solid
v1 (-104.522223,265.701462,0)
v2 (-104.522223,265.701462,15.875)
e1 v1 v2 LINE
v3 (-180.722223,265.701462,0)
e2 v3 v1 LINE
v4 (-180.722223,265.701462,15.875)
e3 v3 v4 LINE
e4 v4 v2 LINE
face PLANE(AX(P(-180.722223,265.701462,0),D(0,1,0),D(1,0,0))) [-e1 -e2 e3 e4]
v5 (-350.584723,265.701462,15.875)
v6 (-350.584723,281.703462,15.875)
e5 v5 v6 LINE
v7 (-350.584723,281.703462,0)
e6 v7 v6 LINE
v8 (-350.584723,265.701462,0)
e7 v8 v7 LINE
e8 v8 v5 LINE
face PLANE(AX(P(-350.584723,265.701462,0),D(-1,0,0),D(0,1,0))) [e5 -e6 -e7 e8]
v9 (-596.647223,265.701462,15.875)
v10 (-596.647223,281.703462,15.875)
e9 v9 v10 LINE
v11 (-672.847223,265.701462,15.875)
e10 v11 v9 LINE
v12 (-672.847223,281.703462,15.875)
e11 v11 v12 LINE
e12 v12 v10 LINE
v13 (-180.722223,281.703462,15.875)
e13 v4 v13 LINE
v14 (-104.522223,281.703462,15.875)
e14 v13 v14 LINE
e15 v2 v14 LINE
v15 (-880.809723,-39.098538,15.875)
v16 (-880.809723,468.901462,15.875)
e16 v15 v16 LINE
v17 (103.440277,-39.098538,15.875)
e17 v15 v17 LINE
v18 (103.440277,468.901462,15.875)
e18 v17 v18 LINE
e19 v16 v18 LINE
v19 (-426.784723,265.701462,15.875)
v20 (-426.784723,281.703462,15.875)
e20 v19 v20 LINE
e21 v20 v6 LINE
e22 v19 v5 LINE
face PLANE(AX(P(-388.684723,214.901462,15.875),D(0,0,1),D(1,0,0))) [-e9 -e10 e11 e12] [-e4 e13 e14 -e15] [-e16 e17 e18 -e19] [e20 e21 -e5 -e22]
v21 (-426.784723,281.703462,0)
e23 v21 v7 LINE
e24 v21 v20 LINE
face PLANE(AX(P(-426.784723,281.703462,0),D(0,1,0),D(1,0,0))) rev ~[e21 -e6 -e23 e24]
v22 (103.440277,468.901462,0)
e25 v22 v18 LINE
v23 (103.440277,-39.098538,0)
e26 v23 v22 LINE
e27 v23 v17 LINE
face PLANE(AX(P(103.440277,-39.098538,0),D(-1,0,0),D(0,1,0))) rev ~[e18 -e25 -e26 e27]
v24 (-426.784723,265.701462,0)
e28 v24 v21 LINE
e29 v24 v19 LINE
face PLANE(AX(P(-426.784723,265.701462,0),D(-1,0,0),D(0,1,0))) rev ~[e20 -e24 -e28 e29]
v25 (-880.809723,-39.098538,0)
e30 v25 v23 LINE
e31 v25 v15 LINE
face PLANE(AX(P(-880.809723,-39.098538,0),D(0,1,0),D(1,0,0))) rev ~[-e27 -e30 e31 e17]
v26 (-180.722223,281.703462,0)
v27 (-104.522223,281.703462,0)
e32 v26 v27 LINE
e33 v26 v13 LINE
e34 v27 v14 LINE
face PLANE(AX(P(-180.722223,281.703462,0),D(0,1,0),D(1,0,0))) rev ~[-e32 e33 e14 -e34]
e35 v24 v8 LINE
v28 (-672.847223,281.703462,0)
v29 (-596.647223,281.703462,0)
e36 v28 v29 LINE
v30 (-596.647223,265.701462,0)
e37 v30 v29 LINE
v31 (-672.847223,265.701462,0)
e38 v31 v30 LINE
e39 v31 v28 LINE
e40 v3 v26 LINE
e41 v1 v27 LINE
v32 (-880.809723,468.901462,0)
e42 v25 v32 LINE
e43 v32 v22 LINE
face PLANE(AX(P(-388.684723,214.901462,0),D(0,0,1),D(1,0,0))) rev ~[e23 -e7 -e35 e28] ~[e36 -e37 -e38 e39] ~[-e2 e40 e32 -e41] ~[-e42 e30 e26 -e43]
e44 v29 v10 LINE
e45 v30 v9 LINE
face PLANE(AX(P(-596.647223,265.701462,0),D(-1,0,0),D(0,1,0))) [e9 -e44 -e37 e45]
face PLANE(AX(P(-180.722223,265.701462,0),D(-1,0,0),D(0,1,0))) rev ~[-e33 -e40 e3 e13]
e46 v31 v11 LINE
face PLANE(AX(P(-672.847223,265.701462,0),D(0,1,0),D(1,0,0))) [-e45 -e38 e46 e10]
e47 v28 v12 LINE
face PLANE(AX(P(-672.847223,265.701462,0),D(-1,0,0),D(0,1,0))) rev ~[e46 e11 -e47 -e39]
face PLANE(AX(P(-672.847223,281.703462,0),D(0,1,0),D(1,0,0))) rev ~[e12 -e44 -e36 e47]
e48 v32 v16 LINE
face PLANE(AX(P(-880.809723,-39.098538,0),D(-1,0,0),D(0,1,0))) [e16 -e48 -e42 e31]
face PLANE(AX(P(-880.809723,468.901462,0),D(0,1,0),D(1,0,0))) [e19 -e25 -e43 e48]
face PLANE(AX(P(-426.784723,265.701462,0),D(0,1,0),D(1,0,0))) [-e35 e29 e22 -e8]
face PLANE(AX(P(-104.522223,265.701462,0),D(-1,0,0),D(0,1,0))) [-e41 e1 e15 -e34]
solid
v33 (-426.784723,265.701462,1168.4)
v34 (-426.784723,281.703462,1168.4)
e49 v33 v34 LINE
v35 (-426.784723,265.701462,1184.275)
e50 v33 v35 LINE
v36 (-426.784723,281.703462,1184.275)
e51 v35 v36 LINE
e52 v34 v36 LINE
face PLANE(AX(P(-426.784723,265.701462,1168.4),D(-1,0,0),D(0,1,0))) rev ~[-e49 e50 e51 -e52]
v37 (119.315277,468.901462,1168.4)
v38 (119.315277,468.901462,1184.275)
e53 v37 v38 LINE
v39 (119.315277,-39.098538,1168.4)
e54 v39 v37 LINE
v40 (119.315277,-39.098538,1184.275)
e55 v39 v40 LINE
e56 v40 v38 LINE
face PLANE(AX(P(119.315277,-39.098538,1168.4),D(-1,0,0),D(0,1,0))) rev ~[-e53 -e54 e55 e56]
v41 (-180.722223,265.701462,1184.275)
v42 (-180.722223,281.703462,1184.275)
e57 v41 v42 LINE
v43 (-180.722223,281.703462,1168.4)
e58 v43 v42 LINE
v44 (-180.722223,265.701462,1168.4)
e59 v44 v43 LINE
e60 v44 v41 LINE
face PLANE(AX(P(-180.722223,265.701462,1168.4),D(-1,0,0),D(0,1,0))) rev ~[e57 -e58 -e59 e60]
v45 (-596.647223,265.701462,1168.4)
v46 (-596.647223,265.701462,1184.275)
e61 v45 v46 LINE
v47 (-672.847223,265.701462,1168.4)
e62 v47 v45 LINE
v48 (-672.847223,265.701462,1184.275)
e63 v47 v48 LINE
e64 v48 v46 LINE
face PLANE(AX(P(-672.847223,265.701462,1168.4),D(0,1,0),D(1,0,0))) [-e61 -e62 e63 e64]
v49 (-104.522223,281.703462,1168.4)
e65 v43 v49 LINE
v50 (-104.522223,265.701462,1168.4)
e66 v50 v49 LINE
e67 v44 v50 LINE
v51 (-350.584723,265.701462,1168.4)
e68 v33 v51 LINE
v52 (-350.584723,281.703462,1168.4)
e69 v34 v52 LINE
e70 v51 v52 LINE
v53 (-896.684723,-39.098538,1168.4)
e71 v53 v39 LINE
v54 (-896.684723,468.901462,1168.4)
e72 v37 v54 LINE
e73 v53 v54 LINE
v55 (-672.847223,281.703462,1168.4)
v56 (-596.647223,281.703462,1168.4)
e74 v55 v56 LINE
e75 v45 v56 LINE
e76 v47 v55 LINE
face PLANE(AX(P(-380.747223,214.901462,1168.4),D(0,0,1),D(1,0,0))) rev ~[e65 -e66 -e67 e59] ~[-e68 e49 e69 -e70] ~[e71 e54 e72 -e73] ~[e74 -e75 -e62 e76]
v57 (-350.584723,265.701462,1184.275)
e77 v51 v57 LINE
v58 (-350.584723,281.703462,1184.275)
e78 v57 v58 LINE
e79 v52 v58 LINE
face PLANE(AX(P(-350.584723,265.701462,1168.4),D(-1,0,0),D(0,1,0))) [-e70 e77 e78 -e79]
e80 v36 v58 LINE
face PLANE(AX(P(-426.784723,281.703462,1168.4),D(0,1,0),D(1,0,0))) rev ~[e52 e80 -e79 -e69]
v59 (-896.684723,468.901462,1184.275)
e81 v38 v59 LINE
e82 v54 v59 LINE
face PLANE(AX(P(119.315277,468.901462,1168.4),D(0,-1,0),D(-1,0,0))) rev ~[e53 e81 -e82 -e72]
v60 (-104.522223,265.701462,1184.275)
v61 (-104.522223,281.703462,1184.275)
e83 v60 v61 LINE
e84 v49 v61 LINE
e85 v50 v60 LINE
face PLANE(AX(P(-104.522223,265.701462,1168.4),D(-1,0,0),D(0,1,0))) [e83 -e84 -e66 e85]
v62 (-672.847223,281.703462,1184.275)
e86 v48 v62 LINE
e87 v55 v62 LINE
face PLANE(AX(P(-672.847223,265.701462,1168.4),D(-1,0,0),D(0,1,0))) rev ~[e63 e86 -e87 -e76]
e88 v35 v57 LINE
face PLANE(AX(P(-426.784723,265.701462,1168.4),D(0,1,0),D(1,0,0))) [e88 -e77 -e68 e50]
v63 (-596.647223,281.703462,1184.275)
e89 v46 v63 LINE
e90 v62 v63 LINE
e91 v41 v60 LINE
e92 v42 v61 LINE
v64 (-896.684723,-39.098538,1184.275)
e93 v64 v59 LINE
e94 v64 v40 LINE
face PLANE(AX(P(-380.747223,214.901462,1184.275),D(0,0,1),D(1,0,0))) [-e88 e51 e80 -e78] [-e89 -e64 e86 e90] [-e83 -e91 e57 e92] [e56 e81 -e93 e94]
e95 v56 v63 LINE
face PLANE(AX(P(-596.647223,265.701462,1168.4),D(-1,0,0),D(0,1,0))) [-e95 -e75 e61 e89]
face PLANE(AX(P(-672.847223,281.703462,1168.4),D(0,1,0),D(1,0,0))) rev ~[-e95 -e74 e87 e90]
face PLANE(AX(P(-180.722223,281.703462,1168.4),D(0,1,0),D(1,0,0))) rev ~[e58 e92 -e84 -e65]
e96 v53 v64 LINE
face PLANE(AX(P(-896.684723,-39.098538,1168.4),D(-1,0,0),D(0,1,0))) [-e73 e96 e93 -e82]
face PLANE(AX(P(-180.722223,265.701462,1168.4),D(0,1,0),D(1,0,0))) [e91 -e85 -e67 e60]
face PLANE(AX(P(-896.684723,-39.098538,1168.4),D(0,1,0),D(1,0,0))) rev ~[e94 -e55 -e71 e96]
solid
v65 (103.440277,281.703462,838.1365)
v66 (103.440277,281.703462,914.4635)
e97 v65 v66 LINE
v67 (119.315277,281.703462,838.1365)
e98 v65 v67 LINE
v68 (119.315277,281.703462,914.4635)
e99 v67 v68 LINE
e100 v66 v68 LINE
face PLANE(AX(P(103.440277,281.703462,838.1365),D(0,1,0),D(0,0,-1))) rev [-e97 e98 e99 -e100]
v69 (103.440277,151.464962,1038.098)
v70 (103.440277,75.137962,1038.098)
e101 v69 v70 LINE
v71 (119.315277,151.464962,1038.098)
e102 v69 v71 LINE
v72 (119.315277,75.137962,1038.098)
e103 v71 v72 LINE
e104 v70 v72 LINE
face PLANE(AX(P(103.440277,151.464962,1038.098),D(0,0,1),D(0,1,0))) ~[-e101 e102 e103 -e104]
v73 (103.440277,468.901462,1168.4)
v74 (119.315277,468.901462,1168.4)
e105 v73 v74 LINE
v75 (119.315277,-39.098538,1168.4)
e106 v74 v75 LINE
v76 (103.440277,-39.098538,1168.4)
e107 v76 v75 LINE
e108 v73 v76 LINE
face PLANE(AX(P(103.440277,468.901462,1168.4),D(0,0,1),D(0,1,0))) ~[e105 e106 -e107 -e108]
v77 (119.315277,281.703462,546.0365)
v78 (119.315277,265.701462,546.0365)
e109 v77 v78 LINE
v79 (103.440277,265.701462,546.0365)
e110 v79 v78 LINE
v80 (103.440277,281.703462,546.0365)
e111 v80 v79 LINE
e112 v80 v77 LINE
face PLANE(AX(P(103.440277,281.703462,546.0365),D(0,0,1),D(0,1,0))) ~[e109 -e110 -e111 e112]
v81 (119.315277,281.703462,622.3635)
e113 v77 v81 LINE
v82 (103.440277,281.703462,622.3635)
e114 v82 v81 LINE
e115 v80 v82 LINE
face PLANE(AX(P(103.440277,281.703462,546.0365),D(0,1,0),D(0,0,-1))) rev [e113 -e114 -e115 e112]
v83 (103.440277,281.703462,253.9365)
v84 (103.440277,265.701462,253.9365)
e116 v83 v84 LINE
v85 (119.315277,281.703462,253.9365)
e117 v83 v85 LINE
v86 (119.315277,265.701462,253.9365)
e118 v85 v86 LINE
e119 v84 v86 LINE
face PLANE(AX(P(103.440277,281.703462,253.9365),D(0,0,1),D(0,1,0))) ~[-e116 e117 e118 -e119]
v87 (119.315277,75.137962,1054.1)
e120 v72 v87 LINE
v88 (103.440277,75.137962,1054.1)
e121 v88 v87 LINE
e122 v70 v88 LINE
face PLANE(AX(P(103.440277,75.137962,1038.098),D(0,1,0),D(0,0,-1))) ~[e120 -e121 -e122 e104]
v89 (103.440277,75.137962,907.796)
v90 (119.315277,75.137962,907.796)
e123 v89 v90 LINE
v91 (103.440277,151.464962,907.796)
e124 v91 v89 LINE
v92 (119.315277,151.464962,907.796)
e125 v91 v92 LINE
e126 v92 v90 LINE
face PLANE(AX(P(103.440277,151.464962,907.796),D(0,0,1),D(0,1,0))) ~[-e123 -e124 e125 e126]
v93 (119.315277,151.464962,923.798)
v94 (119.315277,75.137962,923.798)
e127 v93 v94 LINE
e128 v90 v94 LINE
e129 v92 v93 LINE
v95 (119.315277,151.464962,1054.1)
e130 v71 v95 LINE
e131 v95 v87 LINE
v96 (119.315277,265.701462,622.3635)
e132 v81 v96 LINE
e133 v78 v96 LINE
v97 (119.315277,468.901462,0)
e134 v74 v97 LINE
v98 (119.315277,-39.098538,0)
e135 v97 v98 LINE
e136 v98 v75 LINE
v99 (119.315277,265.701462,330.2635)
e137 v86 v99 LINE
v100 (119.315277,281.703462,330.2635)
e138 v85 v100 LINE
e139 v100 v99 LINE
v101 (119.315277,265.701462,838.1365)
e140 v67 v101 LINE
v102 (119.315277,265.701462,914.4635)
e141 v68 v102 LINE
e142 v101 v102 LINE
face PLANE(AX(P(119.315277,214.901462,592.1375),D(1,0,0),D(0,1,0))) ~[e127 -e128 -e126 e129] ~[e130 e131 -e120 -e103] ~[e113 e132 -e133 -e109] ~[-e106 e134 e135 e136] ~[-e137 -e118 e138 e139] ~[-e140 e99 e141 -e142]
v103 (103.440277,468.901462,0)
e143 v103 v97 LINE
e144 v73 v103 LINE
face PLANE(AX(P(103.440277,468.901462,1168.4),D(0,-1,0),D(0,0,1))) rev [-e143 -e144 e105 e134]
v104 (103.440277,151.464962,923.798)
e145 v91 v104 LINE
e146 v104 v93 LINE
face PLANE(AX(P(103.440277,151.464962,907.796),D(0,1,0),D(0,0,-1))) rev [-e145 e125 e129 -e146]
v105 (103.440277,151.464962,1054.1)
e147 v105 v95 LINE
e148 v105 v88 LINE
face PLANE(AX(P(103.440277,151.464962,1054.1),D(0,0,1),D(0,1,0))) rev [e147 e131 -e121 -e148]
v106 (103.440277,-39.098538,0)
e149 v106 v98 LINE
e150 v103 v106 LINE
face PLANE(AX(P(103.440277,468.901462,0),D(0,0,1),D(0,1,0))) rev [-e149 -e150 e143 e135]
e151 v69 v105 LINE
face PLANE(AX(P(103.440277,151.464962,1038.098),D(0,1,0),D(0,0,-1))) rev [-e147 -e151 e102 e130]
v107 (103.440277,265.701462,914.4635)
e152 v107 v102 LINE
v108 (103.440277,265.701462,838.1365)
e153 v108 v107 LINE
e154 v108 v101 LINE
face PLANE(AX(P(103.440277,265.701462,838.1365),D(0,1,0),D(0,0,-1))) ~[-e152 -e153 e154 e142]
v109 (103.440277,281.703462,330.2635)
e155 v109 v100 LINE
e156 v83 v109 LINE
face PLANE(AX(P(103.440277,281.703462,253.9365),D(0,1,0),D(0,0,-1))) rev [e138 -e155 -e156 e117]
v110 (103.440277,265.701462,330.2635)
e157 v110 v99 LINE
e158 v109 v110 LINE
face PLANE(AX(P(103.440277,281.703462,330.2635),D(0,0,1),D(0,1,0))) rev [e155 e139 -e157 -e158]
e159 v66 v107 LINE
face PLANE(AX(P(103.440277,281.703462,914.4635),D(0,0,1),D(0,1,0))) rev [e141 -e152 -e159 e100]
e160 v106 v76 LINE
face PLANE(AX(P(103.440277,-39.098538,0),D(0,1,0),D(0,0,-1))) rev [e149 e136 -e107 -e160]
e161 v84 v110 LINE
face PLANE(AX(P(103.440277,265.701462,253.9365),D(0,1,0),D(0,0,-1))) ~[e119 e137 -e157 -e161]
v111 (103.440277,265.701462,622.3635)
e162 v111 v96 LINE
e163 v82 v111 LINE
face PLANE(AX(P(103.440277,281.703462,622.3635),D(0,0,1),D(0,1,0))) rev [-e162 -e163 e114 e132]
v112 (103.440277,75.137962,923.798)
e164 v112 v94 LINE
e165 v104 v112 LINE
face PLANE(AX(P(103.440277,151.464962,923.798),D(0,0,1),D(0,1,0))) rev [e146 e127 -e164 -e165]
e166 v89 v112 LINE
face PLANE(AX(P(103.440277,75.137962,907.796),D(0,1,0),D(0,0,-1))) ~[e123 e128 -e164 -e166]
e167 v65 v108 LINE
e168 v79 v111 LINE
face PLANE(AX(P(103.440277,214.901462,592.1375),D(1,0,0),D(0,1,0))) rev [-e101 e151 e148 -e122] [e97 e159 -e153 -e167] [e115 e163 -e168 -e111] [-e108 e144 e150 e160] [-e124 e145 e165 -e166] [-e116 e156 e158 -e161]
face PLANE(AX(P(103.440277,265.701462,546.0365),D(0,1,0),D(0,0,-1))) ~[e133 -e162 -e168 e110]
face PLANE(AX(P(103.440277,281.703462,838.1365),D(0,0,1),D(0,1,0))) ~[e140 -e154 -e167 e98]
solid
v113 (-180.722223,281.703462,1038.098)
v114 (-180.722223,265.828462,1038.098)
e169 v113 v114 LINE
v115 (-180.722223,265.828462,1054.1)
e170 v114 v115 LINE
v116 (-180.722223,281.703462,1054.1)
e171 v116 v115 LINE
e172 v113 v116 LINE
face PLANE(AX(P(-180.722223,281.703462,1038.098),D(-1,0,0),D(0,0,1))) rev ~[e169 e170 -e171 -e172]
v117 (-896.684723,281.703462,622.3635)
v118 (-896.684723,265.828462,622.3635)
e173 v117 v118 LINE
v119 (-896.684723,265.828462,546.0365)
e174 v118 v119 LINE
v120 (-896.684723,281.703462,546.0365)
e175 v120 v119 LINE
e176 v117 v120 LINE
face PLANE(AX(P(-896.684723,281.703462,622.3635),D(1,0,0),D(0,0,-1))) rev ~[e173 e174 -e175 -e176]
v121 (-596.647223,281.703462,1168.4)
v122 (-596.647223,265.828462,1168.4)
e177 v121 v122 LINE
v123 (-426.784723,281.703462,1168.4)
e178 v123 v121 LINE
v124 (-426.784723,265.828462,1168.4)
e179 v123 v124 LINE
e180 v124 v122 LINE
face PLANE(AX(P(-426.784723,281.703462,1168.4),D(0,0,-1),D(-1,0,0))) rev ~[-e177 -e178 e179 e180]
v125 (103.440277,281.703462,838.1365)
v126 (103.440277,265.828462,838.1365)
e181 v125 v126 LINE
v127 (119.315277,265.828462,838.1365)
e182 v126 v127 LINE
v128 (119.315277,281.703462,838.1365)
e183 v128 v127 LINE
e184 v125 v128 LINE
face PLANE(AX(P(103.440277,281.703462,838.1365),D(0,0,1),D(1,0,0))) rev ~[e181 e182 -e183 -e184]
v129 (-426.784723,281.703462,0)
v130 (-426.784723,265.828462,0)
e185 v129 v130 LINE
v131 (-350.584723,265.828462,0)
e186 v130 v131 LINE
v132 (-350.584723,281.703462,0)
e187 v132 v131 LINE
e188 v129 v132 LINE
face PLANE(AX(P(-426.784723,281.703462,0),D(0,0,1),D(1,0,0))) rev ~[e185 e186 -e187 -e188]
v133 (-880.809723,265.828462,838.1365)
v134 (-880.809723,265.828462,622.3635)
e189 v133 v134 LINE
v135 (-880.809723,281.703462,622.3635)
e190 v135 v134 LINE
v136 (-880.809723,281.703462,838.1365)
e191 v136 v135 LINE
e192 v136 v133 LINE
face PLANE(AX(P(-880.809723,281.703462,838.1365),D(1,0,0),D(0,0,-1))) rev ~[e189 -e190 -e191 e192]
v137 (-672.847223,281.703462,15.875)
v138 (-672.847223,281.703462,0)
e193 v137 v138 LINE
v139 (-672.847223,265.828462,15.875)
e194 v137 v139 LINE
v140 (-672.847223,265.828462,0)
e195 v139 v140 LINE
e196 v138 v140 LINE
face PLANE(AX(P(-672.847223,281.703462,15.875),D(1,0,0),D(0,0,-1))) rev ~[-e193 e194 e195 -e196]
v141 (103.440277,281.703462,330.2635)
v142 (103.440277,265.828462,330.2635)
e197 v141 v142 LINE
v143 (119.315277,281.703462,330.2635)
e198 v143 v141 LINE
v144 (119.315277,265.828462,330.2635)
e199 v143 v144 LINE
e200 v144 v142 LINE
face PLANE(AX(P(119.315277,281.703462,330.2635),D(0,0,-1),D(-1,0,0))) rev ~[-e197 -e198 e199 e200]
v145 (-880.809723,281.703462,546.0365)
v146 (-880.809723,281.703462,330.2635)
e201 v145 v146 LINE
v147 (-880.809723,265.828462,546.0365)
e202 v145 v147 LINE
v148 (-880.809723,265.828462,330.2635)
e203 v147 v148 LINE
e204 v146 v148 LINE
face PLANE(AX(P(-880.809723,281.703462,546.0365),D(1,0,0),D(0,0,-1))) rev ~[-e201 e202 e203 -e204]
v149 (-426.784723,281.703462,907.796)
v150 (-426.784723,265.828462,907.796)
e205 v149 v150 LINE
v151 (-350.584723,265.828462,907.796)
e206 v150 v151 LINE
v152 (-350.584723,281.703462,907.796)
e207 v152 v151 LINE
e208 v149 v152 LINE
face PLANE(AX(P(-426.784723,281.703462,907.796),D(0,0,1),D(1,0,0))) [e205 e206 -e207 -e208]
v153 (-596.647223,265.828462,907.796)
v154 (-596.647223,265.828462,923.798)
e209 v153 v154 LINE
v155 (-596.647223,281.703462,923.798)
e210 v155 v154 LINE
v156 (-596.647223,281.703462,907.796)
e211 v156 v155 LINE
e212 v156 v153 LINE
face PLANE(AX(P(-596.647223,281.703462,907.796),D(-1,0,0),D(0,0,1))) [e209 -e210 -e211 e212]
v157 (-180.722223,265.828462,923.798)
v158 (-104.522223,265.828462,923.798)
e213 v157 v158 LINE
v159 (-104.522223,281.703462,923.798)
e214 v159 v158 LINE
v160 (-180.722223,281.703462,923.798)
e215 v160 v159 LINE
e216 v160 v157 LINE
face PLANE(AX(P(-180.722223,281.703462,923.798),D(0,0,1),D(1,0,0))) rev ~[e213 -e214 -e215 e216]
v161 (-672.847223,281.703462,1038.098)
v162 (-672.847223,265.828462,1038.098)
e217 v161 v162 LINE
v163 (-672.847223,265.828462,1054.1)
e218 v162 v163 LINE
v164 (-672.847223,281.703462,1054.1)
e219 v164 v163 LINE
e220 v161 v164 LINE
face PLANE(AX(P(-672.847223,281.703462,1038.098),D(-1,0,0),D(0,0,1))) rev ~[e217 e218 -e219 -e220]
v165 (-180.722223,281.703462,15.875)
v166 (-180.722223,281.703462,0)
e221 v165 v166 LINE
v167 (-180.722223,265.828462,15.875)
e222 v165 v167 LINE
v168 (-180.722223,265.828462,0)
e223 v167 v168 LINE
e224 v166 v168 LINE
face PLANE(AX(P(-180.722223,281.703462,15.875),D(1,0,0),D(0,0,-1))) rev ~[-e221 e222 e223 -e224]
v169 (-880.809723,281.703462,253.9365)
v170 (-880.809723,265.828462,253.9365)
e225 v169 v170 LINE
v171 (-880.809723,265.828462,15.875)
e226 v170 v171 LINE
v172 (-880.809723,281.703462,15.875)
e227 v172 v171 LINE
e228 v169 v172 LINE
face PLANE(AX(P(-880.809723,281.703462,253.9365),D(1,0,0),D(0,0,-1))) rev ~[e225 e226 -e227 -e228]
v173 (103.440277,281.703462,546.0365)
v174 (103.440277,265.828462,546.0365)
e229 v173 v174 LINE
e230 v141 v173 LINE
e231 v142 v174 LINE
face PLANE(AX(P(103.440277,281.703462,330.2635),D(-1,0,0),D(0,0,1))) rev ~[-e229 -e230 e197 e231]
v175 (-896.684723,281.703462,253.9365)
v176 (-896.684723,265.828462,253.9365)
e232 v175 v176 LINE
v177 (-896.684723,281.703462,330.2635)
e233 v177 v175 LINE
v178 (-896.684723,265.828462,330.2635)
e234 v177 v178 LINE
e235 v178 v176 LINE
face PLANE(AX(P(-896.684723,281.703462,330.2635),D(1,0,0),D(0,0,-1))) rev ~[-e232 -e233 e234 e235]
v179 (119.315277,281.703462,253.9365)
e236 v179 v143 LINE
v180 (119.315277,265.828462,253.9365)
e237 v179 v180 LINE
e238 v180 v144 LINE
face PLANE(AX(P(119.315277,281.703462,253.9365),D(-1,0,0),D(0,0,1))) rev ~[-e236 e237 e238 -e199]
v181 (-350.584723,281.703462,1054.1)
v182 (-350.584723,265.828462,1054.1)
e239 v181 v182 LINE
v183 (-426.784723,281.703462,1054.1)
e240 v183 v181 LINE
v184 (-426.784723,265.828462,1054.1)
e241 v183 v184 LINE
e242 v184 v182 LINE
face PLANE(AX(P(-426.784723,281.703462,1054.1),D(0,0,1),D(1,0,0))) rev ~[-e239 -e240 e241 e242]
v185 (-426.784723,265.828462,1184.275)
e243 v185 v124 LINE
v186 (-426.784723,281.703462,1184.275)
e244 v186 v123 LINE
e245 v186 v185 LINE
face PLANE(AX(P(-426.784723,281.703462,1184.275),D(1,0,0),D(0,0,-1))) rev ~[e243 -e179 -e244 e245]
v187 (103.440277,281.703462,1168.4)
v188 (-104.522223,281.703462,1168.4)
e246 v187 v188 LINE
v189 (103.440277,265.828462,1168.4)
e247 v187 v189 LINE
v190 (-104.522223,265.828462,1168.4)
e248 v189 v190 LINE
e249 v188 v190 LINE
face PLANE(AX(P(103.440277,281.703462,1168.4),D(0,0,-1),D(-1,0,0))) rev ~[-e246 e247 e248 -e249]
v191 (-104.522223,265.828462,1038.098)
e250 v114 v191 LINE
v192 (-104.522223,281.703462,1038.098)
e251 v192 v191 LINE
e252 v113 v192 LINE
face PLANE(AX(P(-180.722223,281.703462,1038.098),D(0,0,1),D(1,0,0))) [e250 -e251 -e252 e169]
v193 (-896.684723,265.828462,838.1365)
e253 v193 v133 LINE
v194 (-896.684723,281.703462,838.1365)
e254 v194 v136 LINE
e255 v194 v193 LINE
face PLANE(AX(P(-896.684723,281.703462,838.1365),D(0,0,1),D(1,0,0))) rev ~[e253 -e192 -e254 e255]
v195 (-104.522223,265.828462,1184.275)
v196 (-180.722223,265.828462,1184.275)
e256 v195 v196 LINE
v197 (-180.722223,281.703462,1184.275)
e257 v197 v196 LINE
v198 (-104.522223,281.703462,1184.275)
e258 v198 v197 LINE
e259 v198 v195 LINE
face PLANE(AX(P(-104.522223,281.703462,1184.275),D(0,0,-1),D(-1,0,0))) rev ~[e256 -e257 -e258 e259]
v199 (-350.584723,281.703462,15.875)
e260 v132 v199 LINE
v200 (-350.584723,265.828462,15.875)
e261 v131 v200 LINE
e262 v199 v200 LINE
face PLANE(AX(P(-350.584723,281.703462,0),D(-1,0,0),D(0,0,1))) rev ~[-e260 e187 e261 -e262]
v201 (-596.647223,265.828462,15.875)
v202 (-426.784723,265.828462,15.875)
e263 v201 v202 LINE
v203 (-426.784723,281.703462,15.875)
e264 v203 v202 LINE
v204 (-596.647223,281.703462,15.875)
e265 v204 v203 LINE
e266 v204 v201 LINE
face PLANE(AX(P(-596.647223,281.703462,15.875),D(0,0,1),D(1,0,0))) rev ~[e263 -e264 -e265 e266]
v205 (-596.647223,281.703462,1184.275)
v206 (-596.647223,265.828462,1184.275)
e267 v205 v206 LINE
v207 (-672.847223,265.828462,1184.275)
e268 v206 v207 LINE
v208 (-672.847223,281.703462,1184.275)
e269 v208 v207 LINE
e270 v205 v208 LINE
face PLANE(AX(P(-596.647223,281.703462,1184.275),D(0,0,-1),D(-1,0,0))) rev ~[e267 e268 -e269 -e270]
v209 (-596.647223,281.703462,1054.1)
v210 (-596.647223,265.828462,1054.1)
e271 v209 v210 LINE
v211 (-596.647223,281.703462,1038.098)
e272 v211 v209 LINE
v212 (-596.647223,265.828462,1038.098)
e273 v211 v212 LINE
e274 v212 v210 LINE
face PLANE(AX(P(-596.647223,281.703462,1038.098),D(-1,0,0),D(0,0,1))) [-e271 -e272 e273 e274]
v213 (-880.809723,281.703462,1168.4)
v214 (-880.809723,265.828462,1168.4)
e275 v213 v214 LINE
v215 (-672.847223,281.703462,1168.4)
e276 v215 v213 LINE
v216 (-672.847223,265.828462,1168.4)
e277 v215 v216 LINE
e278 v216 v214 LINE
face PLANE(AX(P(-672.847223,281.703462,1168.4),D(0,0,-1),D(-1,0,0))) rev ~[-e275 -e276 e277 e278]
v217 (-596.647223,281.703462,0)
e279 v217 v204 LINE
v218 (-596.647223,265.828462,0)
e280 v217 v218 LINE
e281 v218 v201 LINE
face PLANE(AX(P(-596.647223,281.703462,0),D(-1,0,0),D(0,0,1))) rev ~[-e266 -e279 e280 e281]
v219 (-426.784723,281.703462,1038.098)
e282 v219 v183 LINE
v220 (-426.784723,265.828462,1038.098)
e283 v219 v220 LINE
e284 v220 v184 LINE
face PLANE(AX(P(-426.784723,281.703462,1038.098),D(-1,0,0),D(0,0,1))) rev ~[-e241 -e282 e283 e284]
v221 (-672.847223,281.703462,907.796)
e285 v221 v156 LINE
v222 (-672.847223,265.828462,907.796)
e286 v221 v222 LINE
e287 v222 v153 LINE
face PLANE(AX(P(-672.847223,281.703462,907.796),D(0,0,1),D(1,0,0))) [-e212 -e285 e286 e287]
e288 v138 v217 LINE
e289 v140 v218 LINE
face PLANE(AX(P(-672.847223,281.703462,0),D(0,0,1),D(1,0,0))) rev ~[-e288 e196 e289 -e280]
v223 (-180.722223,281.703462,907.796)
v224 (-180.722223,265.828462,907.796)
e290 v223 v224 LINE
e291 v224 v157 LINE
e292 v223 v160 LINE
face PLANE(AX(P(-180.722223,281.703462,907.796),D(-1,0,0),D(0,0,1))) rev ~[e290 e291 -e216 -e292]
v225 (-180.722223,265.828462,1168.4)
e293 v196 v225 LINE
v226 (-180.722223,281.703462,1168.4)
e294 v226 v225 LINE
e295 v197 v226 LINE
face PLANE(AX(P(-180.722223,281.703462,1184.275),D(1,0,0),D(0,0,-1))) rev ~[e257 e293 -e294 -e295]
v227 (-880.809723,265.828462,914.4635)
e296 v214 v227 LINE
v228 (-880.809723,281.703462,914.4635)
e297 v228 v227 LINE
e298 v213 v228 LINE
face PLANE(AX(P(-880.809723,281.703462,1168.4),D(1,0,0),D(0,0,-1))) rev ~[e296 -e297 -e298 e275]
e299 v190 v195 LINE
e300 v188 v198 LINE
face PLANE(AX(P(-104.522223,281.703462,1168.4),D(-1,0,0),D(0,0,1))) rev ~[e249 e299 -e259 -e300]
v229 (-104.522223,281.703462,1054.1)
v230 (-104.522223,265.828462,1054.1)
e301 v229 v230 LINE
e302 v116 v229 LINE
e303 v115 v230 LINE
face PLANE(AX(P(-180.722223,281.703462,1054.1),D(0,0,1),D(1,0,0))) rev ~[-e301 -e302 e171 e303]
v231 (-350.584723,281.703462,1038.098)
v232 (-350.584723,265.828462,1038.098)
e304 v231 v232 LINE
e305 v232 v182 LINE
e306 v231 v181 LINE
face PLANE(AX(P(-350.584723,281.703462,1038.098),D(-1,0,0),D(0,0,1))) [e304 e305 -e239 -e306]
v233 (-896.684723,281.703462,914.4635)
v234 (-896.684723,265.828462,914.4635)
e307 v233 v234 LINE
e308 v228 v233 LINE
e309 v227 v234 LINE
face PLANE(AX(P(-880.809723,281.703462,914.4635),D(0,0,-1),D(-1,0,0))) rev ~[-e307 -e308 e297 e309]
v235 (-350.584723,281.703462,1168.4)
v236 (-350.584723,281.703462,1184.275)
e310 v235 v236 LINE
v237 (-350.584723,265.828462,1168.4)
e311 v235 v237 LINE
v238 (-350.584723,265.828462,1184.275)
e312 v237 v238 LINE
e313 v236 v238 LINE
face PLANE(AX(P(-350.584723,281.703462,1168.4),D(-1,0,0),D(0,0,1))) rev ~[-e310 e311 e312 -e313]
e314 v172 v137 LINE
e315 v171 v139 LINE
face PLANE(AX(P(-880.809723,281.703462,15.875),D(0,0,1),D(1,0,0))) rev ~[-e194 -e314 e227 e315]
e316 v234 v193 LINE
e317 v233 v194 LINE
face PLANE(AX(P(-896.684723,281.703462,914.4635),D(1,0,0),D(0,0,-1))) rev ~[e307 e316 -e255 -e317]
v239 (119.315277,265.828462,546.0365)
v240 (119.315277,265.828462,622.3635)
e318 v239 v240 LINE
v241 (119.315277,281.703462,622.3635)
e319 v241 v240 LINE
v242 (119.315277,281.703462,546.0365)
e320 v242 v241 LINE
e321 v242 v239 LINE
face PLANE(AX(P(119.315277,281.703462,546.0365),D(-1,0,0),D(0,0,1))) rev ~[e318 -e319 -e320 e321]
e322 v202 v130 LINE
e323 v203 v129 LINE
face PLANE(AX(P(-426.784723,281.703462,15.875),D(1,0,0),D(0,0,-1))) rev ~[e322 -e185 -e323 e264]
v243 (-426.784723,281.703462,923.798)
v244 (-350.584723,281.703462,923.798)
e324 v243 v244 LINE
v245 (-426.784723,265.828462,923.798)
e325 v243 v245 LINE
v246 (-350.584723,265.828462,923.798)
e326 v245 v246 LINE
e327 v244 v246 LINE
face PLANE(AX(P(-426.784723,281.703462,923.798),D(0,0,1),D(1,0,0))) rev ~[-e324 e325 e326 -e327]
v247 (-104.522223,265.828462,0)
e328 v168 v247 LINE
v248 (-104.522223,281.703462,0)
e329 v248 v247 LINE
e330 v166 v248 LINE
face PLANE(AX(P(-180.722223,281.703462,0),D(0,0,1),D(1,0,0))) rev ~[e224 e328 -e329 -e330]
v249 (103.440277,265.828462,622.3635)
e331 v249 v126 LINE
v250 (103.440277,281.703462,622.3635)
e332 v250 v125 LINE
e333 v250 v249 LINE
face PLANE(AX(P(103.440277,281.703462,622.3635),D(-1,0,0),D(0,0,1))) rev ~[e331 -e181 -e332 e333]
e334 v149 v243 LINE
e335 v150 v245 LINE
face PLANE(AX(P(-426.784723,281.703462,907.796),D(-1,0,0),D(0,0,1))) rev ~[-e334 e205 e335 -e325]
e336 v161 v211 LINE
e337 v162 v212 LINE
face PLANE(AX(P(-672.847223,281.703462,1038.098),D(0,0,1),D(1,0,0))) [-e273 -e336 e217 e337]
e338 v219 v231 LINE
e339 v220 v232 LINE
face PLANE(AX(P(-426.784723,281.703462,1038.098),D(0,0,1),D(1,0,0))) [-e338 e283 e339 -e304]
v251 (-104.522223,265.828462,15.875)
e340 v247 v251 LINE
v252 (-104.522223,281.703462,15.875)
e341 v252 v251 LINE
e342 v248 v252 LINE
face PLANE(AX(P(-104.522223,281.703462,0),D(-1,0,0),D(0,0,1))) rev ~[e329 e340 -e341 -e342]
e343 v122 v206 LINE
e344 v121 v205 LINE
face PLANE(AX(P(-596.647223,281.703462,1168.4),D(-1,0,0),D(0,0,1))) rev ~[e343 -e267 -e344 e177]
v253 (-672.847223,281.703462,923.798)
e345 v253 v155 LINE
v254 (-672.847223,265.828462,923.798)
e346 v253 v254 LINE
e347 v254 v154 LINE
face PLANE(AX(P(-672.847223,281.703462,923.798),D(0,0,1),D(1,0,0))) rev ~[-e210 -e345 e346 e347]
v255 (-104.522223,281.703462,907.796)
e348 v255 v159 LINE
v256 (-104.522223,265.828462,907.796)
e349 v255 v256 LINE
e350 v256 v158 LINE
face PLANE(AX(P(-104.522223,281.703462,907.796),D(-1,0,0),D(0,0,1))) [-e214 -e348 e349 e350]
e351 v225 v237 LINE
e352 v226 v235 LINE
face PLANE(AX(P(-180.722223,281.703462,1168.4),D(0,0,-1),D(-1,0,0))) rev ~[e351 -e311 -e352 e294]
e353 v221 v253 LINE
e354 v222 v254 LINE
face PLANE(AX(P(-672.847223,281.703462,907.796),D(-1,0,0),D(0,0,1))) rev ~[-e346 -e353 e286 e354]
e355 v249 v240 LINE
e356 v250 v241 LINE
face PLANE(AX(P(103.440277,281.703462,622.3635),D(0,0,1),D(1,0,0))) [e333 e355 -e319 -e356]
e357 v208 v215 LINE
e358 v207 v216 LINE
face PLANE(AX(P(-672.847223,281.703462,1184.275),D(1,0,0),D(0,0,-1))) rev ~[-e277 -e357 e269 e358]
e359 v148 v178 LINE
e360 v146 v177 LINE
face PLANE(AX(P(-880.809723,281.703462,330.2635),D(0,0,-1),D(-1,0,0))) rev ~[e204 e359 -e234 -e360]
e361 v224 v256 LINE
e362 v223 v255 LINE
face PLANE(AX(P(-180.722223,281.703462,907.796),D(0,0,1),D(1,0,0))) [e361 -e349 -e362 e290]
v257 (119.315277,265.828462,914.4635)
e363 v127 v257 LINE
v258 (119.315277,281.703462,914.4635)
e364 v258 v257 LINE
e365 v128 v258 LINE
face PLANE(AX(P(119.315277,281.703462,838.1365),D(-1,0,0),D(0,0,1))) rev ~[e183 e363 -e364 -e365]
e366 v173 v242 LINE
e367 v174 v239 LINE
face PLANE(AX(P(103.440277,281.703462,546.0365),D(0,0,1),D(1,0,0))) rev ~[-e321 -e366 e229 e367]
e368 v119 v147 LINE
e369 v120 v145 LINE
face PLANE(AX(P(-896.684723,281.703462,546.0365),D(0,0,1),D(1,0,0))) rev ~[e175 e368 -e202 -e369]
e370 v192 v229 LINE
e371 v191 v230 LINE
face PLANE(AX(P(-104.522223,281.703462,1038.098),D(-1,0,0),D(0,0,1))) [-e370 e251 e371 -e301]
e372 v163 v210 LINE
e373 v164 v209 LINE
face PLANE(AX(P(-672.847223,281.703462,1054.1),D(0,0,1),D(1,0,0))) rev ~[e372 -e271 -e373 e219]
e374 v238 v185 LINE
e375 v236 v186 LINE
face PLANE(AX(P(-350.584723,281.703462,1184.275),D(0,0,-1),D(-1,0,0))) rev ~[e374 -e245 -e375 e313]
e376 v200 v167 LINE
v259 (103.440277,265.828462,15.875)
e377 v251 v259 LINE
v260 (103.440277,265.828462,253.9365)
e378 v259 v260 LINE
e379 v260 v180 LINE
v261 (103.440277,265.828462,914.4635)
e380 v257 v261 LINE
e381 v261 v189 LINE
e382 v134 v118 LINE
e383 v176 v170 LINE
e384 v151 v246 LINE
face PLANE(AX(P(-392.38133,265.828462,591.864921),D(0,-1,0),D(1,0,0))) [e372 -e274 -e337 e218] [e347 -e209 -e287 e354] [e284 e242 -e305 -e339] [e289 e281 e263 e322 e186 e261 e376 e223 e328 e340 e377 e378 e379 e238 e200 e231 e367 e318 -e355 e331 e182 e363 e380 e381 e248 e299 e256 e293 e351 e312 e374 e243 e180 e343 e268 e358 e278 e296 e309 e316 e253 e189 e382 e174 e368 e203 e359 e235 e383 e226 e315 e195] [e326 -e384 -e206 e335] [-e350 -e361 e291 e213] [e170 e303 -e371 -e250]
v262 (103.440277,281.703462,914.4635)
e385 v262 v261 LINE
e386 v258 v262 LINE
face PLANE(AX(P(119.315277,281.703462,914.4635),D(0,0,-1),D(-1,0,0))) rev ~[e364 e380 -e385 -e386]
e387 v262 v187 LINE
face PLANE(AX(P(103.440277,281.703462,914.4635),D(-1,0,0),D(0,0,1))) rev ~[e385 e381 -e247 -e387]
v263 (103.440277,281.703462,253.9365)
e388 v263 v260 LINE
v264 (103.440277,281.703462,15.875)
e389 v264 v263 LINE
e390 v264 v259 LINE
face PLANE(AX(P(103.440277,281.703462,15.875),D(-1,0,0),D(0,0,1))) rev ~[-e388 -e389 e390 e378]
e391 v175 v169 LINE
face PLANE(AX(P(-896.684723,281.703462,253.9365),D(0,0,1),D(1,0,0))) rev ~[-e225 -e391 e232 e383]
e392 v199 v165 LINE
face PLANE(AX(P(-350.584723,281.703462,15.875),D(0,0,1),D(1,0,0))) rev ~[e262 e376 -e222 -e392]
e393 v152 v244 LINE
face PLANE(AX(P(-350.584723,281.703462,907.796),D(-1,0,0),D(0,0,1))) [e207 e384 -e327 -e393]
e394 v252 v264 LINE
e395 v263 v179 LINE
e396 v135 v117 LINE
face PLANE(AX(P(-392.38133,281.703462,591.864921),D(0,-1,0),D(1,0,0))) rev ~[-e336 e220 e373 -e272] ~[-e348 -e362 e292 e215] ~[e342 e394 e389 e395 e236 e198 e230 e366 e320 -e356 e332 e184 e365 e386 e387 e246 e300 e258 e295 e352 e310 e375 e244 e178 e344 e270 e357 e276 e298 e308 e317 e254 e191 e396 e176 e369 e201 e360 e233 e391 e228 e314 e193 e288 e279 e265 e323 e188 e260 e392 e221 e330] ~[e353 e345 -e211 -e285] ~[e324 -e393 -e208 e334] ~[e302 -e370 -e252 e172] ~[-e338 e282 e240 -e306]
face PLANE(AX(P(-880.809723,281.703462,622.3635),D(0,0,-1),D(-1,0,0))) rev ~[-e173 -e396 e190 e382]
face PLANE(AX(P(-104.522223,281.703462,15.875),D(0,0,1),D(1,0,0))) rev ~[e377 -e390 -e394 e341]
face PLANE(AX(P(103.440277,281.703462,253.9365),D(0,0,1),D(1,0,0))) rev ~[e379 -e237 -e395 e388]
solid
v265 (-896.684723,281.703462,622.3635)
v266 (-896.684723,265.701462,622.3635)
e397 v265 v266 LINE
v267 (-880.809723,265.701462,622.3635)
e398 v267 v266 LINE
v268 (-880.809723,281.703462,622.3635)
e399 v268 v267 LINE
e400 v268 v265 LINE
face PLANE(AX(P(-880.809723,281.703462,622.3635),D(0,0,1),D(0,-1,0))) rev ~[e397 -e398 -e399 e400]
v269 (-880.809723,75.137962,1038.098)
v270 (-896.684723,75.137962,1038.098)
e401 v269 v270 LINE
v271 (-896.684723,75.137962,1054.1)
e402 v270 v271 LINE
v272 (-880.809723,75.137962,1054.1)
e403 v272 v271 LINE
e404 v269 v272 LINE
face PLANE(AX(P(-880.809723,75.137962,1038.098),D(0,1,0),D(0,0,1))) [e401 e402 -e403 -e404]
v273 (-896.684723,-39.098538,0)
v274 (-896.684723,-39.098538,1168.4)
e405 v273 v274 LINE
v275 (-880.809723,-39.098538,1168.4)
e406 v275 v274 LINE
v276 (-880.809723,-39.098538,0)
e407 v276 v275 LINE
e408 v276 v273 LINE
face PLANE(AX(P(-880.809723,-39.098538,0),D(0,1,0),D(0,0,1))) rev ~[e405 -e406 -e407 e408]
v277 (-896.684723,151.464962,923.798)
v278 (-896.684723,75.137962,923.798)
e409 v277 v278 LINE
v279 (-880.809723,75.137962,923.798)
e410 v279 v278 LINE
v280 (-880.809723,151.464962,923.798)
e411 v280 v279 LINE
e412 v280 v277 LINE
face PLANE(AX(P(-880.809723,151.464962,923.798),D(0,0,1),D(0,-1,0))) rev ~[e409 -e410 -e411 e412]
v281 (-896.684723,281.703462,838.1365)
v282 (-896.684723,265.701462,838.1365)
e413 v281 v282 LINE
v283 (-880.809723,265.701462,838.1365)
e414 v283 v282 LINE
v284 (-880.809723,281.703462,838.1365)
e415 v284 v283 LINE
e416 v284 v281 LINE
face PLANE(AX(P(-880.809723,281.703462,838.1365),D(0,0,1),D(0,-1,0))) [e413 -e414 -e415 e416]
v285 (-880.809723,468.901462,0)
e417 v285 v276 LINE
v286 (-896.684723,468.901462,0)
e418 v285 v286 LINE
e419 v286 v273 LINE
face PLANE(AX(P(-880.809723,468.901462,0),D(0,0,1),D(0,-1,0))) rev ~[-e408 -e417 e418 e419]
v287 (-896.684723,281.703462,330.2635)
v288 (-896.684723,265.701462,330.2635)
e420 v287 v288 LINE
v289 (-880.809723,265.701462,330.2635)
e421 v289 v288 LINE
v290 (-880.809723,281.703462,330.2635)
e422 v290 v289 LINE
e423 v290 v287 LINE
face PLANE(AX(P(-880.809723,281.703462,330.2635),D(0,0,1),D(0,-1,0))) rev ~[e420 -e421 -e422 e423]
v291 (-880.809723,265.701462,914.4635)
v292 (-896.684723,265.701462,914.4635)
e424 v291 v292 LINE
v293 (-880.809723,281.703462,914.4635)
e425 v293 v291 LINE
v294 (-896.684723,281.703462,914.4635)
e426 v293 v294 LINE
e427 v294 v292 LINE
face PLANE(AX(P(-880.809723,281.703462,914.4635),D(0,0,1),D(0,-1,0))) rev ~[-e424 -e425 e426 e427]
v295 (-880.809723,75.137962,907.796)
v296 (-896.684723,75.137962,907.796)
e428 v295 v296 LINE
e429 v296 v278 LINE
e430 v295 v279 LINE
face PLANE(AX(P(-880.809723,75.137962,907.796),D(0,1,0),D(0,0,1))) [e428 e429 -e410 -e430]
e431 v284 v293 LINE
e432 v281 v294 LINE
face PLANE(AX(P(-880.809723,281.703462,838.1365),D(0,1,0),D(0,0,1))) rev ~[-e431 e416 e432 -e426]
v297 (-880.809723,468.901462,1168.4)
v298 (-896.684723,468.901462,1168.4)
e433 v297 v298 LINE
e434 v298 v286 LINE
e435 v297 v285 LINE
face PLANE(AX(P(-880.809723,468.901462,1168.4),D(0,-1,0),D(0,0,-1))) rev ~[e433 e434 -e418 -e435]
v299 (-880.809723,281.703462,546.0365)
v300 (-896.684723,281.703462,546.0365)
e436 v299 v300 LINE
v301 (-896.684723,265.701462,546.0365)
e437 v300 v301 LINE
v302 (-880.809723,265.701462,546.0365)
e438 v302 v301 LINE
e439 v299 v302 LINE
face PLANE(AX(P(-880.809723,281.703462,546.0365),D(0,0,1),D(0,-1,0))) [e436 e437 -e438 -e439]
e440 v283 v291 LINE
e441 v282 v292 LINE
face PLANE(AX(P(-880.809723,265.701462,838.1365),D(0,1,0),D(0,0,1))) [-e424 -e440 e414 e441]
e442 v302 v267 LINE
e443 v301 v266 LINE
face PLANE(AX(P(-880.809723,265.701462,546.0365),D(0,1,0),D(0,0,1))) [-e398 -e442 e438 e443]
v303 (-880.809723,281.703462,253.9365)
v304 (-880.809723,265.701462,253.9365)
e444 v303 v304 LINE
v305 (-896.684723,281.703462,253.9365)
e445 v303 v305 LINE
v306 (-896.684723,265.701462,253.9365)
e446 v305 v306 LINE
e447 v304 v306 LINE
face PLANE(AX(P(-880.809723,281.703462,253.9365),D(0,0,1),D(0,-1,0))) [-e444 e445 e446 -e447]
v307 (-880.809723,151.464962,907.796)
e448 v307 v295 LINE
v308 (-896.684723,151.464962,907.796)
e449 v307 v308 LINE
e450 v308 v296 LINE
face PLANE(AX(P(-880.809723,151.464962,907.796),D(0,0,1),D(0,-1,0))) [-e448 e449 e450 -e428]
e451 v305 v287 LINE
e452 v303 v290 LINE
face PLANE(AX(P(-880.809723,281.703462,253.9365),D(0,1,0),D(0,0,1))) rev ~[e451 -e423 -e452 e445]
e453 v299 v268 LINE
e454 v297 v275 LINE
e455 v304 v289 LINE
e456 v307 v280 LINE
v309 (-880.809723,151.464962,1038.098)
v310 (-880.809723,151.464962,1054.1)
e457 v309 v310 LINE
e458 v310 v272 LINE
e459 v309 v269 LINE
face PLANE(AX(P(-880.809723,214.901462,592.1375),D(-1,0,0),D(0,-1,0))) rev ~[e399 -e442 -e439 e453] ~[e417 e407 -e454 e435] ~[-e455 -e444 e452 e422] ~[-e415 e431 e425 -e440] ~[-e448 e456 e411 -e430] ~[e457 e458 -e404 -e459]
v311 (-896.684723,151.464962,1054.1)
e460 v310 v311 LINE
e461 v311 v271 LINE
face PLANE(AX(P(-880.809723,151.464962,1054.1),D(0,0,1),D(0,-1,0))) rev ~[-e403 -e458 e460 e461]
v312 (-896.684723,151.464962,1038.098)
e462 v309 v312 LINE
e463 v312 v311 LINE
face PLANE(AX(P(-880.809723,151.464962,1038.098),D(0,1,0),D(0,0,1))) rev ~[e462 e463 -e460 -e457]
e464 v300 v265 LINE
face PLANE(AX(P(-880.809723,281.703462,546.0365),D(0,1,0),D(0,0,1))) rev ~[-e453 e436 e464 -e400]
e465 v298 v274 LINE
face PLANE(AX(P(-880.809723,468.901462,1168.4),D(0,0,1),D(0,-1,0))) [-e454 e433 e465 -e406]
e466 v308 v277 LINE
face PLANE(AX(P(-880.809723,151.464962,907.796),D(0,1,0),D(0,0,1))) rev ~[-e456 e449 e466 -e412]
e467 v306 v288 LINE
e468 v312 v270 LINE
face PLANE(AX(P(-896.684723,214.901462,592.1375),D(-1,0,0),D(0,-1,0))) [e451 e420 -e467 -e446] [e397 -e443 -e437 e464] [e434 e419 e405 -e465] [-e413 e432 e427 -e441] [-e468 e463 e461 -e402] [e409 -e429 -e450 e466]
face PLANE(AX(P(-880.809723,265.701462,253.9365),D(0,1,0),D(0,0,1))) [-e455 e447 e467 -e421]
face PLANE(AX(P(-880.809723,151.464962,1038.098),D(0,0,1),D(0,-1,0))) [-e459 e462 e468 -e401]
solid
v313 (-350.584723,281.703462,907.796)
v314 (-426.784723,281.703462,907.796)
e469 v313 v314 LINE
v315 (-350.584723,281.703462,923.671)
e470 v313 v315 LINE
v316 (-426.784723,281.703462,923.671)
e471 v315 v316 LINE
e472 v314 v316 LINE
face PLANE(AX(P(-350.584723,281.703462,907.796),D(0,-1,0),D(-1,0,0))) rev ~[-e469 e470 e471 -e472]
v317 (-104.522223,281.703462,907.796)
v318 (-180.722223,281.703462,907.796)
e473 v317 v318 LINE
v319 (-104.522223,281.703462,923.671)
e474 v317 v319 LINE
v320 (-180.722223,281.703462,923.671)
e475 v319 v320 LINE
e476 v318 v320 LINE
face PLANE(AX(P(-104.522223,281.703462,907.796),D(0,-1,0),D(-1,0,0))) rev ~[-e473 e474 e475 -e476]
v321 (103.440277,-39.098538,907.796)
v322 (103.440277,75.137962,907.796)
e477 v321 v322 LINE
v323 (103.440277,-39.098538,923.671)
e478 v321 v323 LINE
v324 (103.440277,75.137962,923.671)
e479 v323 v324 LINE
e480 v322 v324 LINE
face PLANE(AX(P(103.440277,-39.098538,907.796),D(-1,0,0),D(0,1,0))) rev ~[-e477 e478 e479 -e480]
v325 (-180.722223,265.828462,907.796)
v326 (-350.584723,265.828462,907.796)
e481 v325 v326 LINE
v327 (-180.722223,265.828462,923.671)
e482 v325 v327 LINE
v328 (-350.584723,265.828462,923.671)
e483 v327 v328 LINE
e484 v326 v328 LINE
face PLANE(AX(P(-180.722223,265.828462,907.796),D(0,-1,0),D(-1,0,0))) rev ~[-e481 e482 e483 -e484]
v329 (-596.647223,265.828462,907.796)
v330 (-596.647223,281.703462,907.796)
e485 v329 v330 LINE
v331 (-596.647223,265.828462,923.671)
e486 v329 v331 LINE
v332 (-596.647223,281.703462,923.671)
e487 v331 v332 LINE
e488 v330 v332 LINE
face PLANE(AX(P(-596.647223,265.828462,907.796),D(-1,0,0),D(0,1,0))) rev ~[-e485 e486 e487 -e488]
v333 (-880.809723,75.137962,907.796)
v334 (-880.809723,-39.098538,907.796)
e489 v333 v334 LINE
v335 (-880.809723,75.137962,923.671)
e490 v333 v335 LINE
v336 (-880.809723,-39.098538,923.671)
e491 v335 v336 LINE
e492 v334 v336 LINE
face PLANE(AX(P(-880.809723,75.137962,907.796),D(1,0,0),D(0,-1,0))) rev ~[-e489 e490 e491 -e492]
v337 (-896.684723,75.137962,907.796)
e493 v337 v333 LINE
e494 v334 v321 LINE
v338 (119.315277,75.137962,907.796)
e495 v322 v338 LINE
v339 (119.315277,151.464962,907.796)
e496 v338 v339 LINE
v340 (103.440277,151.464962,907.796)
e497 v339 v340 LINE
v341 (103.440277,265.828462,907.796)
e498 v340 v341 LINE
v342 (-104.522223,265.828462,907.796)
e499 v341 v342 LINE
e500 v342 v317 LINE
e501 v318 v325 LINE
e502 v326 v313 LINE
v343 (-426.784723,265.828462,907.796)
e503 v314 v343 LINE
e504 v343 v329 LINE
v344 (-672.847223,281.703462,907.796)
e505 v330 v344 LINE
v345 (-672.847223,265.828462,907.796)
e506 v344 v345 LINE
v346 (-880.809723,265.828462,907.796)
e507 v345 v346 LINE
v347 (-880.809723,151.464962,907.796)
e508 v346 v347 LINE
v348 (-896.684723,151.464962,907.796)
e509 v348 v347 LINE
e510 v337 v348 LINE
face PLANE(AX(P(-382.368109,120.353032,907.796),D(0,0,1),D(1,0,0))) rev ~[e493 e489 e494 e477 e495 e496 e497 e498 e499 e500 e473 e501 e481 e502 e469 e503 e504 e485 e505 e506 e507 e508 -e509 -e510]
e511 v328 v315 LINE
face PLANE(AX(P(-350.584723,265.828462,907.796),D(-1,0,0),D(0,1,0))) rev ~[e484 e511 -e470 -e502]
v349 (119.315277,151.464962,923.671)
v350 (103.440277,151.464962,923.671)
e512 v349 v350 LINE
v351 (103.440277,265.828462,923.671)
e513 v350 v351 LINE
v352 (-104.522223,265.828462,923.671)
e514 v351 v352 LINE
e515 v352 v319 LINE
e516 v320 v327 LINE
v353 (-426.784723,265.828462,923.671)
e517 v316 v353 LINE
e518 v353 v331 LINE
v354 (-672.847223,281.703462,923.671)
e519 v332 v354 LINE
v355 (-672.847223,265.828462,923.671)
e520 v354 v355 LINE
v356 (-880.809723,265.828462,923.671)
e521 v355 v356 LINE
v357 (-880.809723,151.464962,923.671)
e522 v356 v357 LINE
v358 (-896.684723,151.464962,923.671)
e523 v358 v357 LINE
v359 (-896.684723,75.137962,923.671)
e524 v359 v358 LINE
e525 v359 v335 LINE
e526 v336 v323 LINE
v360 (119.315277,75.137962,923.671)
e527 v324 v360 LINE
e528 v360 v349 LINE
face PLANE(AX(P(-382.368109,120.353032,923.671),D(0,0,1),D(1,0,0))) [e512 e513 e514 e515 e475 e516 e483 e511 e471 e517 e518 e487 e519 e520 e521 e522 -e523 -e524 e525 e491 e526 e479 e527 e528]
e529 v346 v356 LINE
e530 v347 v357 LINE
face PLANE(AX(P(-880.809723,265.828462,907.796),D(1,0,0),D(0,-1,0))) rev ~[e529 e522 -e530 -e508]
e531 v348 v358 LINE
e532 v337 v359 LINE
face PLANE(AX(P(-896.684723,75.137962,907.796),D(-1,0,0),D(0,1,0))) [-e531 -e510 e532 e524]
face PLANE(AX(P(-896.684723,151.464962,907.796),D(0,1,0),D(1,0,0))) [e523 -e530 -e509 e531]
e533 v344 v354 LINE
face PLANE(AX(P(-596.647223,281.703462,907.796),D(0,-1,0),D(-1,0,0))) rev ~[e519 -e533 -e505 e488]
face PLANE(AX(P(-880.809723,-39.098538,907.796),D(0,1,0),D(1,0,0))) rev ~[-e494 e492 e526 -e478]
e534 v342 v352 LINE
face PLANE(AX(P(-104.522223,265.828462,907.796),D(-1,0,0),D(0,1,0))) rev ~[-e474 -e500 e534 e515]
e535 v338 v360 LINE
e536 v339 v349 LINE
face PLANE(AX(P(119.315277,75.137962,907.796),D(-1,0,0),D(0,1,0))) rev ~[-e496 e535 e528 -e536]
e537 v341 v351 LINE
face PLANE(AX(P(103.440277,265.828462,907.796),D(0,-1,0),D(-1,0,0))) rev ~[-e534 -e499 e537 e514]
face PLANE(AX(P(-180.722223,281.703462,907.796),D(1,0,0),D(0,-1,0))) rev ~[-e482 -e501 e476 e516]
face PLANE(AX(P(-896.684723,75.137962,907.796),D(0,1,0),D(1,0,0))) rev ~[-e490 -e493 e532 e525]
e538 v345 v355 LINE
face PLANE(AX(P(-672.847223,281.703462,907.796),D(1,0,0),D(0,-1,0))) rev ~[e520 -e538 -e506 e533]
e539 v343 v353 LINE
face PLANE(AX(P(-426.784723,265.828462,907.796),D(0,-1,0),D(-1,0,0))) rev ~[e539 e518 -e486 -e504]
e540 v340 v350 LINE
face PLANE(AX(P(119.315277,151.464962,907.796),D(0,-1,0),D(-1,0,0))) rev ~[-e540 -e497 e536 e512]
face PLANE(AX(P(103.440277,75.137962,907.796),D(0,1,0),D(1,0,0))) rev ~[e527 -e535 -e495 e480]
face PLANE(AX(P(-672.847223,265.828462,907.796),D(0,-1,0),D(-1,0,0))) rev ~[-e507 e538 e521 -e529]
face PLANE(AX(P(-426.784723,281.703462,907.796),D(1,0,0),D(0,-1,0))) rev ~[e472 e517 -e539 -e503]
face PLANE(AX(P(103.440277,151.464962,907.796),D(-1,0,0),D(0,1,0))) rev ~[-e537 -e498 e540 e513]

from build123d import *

# Parameters (mm, degrees)
F0_W      = 984.25
F0_H      = 508
F0_W_2    = 76.2
F0_H_2    = 16.002
F1_DEPTH  = 15.875
F2_W      = 508
F2_H      = 1152.525
F2_W_2    = 16.002
F2_H_2    = 76.327
F2_W_3    = 76.327
F2_H_3    = 16.002
F2_H_4    = 15.875
F3_DEPTH  = 15.875
F9_W      = 1000.125
F9_H      = 508
F9_W_2    = 76.2
F9_H_2    = 16.002
F9_W_3    = 15.875
F10_DEPTH = 15.875
F11_W     = 76.2
F11_H     = 16.002
F11_W_2   = 15.875
F11_H_2   = 76.327
F12_DEPTH = 15.875
F13_W     = 15.875
F13_H     = 76.327
F14_DEPTH = 15.875


with BuildPart() as f1:
    # F0 (on Top) → F1 (new body)
    with BuildSketch(Plane.XY):
        with Locations((-388.6847227216, 214.9014615417)):
            Rectangle(F0_W, F0_H)
        with Locations((-634.7472227216, 273.7024615417)):
            Rectangle(F0_W_2, F0_H_2, mode=Mode.SUBTRACT)
        with Locations((-388.6847227216, 273.7024615417)):
            Rectangle(F0_W_2, F0_H_2, mode=Mode.SUBTRACT)
        with Locations((-142.6222227216, 273.7024615417)):
            Rectangle(F0_W_2, F0_H_2, mode=Mode.SUBTRACT)
    extrude(amount=F1_DEPTH)


with BuildPart() as f3:
    # F2 (on face) → F3 (new body)
    with BuildSketch(Plane(origin=(-880.8097227216, 0, 0), x_dir=(0, -1, 0), z_dir=(-1, 0, 0))):
        with Locations((-214.9014615417, 592.1375)):
            Rectangle(F2_W, F2_H)
        with Locations((-273.7024615417, 292.1)):
            Rectangle(F2_W_2, F2_H_2, mode=Mode.SUBTRACT)
        with Locations((-273.7024615417, 584.2)):
            Rectangle(F2_W_2, F2_H_2, mode=Mode.SUBTRACT)
        with Locations((-273.7024615417, 876.3)):
            Rectangle(F2_W_2, F2_H_2, mode=Mode.SUBTRACT)
        with Locations((-113.3014615417, 915.797)):
            Rectangle(F2_W_3, F2_H_3, mode=Mode.SUBTRACT)
        with Locations((-113.3014615417, 1046.099)):
            Rectangle(F2_W_3, F2_H_3, mode=Mode.SUBTRACT)
        with Locations((-214.9014615417, 7.9375)):
            Rectangle(F2_W, F2_H_4)
    extrude(amount=F3_DEPTH)


with BuildPart() as f8_1:
    # F8: instance of F3
    add(f3.part.mirror(Plane(origin=(-388.6847227216, -39.0985384583, 15.875), x_dir=(0, 1, 0), z_dir=(1, 0, 0))))


with BuildPart() as f10:
    # F9 (on face) → F10 (new body)
    with BuildSketch(Plane.XY.offset(1168.4)):
        with Locations((-380.7472227216, 214.9014615417)):
            Rectangle(F9_W, F9_H)
        with Locations((-634.7472227216, 273.7024615417)):
            Rectangle(F9_W_2, F9_H_2, mode=Mode.SUBTRACT)
        with Locations((-388.6847227216, 273.7024615417)):
            Rectangle(F9_W_2, F9_H_2, mode=Mode.SUBTRACT)
        with Locations((-142.6222227216, 273.7024615417)):
            Rectangle(F9_W_2, F9_H_2, mode=Mode.SUBTRACT)
        with Locations((-888.7472227216, 214.9014615417)):
            Rectangle(F9_W_3, F9_H)
    extrude(amount=F10_DEPTH)


with BuildPart() as f12:
    # F11 (on face) → F12 (new body)
    with BuildSketch(Plane.XZ.offset(-281.7034615417)):
        Polygon((-180.7222227216, 1168.4), (-350.5847227216, 1168.4), (-350.5847227216, 1184.275), (-426.7847227216, 1184.275), (-426.7847227216, 1168.4), (-596.6472227216, 1168.4), (-596.6472227216, 1184.275), (-672.8472227216, 1184.275), (-672.8472227216, 1168.4), (-880.8097227216, 1168.4), (-880.8097227216, 914.4635), (-896.6847227216, 914.4635), (-896.6847227216, 838.1365), (-880.8097227216, 838.1365), (-880.8097227216, 622.3635), (-896.6847227216, 622.3635), (-896.6847227216, 546.0365), (-880.8097227216, 546.0365), (-880.8097227216, 330.2635), (-896.6847227216, 330.2635), (-896.6847227216, 253.9365), (-880.8097227216, 253.9365), (-880.8097227216, 15.875), (-672.8472227216, 15.875), (-672.8472227216, 0), (-596.6472227216, 0), (-596.6472227216, 15.875), (-426.7847227216, 15.875), (-426.7847227216, 0), (-350.5847227216, 0), (-350.5847227216, 15.875), (-180.7222227216, 15.875), (-180.7222227216, 0), (-104.5222227216, 0), (-104.5222227216, 15.875), (103.4402772784, 15.875), (103.4402772784, 253.9365), (119.3152772784, 253.9365), (119.3152772784, 330.2635), (103.4402772784, 330.2635), (103.4402772784, 546.0365), (103.4402772784, 622.3635), (103.4402772784, 838.1365), (119.3152772784, 838.1365), (119.3152772784, 914.4635), (103.4402772784, 914.4635), (103.4402772784, 1168.4), (-104.5222227216, 1168.4), (-104.5222227216, 1184.275), (-180.7222227216, 1184.275), align=None)
        with Locations((-634.7472227216, 915.797)):
            Rectangle(F11_W, F11_H, mode=Mode.SUBTRACT)
        with Locations((-634.7472227216, 1046.099)):
            Rectangle(F11_W, F11_H, mode=Mode.SUBTRACT)
        with Locations((-388.6847227216, 915.797)):
            Rectangle(F11_W, F11_H, mode=Mode.SUBTRACT)
        with Locations((-142.6222227216, 915.797)):
            Rectangle(F11_W, F11_H, mode=Mode.SUBTRACT)
        with Locations((-388.6847227216, 1046.099)):
            Rectangle(F11_W, F11_H, mode=Mode.SUBTRACT)
        with Locations((-142.6222227216, 1046.099)):
            Rectangle(F11_W, F11_H, mode=Mode.SUBTRACT)
        with Locations((111.3777772784, 584.2)):
            Rectangle(F11_W_2, F11_H_2)
    extrude(amount=F12_DEPTH)


with BuildPart() as f14:
    # F13 (on face) → F14 (new body)
    with BuildSketch(Plane.XY.offset(907.796)):
        Polygon((-596.6472227216, 265.8284615417), (-596.6472227216, 281.7034615417), (-672.8472227216, 281.7034615417), (-672.8472227216, 265.8284615417), (-880.8097227216, 265.8284615417), (-880.8097227216, 151.4649615417), (-880.8097227216, 75.1379615417), (-880.8097227216, -39.0985384583), (103.4402772784, -39.0985384583), (103.4402772784, 75.1379615417), (119.3152772784, 75.1379615417), (119.3152772784, 151.4649615417), (103.4402772784, 151.4649615417), (103.4402772784, 265.8284615417), (-104.5222227216, 265.8284615417), (-104.5222227216, 281.7034615417), (-180.7222227216, 281.7034615417), (-180.7222227216, 265.8284615417), (-350.5847227216, 265.8284615417), (-350.5847227216, 281.7034615417), (-426.7847227216, 281.7034615417), (-426.7847227216, 265.8284615417), align=None)
        with Locations((-888.7472227216, 113.3014615417)):
            Rectangle(F13_W, F13_H)
    extrude(amount=F14_DEPTH)


solid = Compound([f1.part, f3.part, f8_1.part, f10.part, f12.part, f14.part])
